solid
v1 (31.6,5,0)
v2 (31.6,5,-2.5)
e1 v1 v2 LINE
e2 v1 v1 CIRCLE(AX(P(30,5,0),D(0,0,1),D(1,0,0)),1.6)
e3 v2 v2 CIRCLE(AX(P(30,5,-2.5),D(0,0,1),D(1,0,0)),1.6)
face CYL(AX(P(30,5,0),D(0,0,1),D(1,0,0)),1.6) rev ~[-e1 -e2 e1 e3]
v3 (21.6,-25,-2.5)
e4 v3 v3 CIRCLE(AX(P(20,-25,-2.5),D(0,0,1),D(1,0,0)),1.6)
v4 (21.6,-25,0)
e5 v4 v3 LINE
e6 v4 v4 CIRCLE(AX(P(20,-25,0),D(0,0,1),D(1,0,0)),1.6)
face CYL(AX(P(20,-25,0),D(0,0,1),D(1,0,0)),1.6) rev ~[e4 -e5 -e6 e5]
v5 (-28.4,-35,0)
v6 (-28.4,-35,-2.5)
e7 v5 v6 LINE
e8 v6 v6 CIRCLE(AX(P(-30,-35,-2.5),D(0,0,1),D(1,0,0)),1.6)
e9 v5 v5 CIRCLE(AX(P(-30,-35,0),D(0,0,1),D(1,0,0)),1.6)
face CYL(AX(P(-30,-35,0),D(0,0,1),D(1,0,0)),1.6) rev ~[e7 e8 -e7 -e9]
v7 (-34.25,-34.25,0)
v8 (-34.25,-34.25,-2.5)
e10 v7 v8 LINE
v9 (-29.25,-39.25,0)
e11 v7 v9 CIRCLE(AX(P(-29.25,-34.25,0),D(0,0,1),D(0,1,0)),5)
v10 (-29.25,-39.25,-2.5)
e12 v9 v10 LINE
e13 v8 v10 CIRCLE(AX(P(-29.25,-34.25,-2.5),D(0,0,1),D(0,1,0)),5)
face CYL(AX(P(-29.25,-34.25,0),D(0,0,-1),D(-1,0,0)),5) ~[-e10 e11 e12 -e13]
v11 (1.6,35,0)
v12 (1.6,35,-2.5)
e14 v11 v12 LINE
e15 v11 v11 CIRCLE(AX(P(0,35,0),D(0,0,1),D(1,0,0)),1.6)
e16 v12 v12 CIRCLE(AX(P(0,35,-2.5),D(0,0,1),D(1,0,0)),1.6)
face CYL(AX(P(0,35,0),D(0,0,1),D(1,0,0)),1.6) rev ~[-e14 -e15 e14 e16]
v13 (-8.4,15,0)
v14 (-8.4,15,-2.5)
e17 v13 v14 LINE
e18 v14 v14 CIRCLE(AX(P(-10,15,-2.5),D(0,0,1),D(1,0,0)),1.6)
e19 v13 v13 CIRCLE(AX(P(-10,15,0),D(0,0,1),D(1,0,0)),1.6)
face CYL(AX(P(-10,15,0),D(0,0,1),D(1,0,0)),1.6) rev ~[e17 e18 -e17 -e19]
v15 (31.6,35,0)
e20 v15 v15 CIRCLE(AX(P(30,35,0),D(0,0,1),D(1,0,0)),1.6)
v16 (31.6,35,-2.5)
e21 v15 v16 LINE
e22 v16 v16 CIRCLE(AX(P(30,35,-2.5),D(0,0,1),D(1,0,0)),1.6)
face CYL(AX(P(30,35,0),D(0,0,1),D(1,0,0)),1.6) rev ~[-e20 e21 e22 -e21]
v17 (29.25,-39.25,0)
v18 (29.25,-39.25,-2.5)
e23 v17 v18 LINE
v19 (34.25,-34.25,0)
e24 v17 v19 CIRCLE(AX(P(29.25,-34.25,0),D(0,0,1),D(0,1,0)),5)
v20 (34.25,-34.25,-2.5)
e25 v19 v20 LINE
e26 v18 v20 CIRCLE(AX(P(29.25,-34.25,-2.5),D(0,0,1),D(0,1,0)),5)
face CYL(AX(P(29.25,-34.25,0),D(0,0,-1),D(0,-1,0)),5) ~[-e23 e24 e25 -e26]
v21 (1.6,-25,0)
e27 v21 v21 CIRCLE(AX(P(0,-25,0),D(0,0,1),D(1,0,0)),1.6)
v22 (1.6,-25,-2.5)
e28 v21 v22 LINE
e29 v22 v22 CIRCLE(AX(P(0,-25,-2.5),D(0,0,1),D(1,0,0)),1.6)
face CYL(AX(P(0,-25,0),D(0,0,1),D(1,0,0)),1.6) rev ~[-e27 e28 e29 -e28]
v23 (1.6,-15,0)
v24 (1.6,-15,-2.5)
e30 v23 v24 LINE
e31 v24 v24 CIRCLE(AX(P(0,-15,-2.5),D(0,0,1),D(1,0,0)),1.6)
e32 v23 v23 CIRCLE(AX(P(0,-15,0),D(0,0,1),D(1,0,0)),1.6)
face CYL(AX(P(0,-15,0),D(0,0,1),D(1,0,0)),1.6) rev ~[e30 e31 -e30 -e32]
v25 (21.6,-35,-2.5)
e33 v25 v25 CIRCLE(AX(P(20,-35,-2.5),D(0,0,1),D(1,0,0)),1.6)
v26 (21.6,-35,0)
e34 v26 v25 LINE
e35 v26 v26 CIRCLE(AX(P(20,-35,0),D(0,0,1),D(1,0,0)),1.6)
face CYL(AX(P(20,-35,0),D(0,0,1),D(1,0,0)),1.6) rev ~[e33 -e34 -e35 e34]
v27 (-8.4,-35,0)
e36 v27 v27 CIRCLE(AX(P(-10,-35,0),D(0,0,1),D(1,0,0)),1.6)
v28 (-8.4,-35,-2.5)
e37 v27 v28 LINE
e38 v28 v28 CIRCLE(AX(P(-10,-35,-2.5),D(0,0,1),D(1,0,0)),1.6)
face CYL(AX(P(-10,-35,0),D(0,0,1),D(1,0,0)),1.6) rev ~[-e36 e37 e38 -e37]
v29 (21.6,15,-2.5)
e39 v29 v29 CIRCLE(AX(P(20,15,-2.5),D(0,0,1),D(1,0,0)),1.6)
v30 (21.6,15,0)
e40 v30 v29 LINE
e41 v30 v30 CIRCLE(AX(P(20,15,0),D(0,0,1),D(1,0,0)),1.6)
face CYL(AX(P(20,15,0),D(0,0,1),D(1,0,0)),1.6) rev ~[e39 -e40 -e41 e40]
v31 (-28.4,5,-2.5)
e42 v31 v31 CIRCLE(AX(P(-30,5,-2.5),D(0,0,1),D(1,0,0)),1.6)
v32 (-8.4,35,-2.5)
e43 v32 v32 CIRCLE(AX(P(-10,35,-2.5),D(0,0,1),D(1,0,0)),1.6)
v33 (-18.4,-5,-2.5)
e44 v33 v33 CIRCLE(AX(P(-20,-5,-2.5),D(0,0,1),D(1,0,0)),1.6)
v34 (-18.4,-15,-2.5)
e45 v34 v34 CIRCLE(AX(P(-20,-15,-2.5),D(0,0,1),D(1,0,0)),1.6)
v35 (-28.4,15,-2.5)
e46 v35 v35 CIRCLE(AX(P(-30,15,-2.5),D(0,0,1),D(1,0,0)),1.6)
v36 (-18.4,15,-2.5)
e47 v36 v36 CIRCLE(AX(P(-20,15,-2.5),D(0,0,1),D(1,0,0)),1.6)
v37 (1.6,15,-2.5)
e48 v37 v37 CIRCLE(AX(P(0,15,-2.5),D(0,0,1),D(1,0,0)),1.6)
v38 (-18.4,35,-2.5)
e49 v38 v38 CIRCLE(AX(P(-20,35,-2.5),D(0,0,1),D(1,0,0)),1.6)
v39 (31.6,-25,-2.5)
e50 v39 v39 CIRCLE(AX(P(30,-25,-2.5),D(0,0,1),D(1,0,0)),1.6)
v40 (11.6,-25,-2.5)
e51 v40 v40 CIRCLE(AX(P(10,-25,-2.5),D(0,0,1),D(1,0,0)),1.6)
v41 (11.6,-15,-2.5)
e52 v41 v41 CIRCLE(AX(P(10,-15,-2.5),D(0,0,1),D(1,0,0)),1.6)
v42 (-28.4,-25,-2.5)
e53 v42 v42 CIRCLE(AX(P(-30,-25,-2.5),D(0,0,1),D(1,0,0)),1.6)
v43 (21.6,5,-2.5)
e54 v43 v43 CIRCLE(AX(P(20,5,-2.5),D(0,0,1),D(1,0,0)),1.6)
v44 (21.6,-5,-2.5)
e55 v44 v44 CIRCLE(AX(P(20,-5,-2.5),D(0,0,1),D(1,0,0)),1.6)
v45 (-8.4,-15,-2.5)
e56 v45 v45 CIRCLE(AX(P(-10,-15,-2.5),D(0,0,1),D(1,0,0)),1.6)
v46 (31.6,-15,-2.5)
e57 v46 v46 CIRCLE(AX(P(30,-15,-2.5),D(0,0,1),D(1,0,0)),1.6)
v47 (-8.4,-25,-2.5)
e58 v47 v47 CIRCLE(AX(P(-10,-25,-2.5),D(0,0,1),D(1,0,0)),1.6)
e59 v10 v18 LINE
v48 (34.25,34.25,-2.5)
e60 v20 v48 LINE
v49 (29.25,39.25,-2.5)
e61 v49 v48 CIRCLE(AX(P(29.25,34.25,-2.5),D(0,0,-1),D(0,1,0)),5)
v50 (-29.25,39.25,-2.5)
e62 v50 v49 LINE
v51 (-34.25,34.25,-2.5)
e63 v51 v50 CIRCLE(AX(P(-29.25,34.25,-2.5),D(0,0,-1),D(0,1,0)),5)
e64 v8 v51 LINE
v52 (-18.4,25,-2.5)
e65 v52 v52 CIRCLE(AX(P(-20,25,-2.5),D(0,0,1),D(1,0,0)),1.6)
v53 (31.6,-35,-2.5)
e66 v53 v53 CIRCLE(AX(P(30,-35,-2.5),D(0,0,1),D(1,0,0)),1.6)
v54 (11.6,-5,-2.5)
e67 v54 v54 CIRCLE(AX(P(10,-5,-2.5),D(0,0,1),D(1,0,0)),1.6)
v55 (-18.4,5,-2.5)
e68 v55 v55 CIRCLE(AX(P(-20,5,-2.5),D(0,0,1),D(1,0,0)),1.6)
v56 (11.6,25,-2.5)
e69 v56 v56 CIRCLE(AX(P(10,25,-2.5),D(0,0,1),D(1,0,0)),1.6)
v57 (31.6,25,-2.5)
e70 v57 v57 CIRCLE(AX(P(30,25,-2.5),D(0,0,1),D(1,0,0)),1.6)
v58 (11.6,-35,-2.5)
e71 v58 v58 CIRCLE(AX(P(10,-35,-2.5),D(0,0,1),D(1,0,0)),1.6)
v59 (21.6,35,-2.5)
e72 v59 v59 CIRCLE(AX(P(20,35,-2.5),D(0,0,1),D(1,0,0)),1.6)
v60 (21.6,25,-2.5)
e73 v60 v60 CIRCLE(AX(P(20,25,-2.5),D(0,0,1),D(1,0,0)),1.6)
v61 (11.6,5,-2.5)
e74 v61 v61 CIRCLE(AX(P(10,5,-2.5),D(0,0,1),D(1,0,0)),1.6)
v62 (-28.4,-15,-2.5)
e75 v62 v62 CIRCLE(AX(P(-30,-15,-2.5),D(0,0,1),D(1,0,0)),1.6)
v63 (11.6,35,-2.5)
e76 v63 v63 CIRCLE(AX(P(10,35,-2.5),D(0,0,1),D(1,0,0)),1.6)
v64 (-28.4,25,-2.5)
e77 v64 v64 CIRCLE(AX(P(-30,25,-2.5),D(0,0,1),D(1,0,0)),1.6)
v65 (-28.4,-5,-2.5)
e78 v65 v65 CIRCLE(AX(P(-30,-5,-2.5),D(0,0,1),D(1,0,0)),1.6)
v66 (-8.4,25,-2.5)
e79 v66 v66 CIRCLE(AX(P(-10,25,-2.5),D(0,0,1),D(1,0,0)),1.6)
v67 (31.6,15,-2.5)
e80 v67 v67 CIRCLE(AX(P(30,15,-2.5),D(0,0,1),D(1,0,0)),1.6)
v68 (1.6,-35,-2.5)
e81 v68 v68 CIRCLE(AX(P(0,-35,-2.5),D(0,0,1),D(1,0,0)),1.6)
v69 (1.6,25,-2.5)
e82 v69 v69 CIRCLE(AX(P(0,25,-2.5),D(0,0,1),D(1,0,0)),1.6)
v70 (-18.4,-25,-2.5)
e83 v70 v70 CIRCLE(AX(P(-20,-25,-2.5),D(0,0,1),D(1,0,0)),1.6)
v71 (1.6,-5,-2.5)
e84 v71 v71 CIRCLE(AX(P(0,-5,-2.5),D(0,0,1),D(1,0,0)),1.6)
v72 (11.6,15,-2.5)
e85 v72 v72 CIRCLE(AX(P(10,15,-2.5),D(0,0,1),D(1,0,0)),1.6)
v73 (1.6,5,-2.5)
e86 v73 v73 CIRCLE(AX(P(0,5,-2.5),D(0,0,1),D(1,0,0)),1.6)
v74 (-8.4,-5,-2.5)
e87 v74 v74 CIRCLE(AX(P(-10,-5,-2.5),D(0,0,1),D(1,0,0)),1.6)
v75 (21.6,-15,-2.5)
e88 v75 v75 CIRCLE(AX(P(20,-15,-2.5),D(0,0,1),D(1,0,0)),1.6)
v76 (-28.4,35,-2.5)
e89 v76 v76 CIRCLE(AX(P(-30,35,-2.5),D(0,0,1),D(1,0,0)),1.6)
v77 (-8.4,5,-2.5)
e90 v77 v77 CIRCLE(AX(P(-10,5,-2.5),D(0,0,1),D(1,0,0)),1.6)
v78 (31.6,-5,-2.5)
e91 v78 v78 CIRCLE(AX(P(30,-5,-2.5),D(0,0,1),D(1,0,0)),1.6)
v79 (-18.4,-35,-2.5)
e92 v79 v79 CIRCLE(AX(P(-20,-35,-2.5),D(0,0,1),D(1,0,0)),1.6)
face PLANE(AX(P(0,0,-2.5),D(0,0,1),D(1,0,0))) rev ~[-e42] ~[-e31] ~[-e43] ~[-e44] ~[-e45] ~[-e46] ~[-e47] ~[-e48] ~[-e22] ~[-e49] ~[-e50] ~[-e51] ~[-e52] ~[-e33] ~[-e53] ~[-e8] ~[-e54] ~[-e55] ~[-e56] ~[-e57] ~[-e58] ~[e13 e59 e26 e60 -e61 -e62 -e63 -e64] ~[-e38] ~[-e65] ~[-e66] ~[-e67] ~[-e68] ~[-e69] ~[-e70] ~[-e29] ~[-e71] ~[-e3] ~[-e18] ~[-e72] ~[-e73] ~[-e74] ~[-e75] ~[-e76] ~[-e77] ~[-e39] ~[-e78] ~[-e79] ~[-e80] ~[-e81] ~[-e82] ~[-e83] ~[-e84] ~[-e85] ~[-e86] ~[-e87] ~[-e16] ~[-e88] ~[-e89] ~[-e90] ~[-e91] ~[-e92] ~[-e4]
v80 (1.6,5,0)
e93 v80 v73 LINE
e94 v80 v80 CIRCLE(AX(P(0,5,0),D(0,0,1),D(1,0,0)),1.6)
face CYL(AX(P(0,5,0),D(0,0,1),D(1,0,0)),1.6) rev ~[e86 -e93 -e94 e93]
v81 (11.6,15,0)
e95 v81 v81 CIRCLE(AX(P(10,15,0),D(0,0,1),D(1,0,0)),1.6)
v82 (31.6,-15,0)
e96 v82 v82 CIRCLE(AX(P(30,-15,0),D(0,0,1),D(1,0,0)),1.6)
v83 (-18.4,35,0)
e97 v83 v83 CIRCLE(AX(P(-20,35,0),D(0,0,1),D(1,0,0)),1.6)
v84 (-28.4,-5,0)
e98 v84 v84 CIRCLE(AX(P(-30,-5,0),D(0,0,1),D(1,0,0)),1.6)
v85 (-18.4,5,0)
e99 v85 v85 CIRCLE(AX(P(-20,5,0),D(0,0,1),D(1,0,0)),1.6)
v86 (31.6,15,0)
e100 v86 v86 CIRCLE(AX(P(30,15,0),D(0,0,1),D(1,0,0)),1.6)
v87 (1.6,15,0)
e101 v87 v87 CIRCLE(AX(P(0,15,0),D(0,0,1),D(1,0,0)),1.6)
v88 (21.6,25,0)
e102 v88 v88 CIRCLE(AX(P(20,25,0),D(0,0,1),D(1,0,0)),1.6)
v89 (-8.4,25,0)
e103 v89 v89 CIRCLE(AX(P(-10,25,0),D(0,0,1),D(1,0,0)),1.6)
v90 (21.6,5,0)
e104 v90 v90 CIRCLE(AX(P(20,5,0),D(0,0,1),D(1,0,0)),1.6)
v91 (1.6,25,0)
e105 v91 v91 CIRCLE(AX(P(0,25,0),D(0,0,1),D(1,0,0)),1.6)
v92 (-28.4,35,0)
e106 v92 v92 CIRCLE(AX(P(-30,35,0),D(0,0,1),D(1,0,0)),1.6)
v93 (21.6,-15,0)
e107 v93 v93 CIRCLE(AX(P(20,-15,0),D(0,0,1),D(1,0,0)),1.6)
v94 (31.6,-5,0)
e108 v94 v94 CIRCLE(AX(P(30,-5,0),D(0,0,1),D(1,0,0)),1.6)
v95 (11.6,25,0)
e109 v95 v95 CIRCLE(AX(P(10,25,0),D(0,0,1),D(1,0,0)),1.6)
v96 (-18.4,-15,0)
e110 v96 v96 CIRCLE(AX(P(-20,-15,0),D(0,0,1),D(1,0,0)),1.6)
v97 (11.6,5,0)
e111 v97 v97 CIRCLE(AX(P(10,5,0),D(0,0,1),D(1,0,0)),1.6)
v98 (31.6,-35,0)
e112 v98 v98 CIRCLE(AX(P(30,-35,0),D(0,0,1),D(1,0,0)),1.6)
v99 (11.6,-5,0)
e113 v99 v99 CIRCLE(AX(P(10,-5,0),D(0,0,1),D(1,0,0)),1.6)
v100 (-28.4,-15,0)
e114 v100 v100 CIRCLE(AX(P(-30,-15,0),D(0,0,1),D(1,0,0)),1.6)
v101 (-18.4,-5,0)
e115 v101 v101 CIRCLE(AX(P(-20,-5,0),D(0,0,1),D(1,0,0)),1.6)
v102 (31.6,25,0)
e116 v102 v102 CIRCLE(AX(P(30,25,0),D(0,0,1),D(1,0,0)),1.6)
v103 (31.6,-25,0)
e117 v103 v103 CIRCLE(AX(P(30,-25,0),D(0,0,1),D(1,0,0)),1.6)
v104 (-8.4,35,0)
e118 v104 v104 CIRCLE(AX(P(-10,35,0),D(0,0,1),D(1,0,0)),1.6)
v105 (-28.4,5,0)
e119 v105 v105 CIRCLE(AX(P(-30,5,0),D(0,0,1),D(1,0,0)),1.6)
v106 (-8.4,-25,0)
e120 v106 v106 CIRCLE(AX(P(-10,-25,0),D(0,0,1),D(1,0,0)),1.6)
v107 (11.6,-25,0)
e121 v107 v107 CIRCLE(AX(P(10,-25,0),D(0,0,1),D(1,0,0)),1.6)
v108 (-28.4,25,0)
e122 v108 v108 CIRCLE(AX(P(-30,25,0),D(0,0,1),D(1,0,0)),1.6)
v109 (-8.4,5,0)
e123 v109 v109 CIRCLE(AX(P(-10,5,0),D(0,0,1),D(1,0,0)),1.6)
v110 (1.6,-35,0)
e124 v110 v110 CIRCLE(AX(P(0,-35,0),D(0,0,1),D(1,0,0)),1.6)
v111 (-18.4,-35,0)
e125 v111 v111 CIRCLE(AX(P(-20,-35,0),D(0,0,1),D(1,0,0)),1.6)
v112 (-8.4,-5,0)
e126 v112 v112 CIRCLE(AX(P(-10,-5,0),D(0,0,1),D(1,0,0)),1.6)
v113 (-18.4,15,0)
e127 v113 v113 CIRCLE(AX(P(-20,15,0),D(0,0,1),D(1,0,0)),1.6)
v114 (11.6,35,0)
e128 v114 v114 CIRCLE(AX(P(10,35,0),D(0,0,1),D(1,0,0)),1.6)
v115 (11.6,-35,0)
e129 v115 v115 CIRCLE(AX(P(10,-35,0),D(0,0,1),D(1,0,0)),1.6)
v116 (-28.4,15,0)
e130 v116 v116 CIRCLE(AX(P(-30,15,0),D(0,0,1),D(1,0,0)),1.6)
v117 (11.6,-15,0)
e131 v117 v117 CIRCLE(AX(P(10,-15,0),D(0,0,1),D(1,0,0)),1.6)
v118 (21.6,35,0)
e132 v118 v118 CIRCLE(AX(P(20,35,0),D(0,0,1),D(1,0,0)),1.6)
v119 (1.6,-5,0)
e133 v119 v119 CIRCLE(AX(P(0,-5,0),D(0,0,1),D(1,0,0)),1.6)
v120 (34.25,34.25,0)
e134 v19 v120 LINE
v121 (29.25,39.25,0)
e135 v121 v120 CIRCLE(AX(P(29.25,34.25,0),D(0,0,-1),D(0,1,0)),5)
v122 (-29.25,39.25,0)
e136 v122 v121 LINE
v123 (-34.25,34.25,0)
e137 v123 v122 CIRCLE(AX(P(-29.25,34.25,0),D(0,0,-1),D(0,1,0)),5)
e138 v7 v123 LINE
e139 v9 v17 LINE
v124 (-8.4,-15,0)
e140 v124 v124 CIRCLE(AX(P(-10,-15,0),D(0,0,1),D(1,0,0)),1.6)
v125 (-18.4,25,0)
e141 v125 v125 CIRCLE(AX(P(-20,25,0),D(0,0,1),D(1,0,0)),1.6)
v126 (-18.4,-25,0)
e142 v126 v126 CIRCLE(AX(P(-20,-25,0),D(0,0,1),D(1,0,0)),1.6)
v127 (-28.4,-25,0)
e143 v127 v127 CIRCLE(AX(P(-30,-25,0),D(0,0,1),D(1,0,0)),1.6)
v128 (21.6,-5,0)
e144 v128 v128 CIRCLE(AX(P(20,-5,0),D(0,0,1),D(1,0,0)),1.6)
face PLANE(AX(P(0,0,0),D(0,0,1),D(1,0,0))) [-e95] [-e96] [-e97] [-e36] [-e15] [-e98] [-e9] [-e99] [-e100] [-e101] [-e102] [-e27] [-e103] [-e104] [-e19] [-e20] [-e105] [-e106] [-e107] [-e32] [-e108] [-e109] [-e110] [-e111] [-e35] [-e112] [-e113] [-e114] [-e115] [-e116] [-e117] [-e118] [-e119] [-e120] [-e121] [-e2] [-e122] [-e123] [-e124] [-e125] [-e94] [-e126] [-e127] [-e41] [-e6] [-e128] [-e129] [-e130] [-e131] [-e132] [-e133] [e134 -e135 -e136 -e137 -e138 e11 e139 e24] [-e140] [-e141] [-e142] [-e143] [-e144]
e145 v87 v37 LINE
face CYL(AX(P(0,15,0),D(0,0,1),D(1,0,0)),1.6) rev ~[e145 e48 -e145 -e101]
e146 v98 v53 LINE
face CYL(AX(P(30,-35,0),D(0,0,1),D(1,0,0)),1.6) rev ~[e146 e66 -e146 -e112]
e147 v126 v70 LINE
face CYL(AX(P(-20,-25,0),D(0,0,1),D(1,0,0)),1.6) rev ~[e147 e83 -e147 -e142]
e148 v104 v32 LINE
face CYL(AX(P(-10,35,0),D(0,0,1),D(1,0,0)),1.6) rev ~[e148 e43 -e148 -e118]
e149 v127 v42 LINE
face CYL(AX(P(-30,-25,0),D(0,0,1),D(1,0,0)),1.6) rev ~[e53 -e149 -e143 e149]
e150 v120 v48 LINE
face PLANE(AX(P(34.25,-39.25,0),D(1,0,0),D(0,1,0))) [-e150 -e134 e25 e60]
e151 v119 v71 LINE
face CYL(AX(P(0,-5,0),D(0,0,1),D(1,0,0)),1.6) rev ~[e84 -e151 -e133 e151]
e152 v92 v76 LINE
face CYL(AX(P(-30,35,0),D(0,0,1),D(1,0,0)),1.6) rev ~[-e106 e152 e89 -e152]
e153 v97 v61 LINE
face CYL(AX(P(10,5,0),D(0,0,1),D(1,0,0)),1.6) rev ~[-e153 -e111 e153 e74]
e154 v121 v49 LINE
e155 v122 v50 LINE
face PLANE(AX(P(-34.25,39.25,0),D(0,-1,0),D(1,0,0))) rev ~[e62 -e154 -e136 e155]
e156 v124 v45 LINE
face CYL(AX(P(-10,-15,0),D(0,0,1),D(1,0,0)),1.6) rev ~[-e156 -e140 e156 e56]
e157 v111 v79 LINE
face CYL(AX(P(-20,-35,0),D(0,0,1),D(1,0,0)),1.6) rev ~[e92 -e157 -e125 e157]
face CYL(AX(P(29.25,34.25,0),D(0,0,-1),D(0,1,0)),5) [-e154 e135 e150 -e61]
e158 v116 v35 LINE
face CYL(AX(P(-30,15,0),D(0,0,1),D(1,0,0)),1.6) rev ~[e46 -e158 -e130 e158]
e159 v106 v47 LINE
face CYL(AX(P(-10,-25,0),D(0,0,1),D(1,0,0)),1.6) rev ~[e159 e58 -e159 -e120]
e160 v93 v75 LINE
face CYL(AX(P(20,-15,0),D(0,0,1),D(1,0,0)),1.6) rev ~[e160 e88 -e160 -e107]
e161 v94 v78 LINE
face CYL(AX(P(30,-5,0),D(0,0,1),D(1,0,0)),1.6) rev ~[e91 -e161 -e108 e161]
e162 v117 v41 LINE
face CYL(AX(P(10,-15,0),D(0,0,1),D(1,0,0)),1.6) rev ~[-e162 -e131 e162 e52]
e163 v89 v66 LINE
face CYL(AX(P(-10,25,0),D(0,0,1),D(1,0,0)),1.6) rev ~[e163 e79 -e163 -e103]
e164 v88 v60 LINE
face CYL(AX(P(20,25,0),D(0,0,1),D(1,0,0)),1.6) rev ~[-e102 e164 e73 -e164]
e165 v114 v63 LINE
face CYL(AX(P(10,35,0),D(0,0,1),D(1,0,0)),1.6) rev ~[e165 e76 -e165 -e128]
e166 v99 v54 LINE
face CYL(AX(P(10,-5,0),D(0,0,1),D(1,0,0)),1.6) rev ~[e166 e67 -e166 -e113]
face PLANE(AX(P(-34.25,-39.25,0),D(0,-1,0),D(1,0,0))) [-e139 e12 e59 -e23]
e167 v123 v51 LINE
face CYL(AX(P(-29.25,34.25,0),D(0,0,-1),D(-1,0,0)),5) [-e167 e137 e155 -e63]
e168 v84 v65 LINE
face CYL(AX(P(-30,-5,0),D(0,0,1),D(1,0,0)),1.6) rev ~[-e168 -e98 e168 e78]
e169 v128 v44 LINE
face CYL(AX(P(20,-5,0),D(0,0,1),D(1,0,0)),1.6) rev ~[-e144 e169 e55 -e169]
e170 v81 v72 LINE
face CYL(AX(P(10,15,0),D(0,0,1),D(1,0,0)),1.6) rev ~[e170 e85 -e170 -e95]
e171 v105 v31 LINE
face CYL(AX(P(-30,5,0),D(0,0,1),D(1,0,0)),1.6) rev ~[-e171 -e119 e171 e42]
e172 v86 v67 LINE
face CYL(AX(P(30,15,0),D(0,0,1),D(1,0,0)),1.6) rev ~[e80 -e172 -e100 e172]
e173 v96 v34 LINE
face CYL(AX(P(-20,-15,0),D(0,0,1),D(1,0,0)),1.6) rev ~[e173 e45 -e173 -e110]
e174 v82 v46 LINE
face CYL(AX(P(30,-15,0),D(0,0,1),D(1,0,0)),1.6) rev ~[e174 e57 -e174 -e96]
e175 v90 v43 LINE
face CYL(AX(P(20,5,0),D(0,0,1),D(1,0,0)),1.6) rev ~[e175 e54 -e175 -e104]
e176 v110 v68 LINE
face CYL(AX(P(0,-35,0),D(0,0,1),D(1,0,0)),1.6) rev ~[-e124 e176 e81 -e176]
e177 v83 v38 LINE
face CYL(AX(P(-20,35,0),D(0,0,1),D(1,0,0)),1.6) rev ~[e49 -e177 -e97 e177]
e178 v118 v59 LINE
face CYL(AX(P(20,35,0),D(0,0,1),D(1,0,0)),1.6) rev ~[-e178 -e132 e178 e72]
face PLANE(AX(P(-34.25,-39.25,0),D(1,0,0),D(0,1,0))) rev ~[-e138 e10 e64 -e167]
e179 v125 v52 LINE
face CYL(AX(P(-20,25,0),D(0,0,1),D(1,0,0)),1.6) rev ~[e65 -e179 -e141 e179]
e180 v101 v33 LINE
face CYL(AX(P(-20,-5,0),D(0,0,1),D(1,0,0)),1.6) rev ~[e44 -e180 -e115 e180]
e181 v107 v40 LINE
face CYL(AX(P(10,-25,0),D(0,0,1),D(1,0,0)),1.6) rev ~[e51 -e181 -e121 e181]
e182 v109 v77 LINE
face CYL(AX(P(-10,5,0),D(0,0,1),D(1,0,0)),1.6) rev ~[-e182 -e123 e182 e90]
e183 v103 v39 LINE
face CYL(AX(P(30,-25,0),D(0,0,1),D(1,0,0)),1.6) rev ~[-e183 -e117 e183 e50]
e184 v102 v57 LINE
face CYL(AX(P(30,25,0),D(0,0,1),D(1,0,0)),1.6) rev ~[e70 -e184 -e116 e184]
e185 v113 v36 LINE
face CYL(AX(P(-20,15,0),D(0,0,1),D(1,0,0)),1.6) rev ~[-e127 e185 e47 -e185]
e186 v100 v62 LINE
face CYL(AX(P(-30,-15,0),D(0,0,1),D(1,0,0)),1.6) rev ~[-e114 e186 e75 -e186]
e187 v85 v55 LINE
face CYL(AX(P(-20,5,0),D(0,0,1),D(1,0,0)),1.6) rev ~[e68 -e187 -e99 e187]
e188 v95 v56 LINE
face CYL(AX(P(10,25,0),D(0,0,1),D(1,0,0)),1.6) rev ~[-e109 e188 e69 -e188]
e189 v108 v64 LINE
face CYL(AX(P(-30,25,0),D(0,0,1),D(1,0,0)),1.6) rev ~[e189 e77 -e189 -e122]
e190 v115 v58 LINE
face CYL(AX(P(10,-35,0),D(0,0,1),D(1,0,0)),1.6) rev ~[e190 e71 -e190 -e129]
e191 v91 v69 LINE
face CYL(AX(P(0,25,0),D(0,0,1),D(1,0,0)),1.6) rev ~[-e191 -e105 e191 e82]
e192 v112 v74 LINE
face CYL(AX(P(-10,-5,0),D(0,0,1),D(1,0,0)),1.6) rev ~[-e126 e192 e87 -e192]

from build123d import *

# Parameters (mm, degrees)
F0_W     = 68.5
F0_H     = 78.5
F0_R     = 1.6
F1_DEPTH = 2.5
F2_R     = 5


with BuildPart() as f1:
    # F0 (on Top) → F1 (new body)
    with BuildSketch(Plane.XY):
        Rectangle(F0_W, F0_H)
        with Locations((-30, -35)):
            Circle(F0_R, mode=Mode.SUBTRACT)
        with Locations((-20, -35)):
            Circle(F0_R, mode=Mode.SUBTRACT)
        with Locations((-30, -25)):
            Circle(F0_R, mode=Mode.SUBTRACT)
        with Locations((-20, -25)):
            Circle(F0_R, mode=Mode.SUBTRACT)
        with Locations((-10, -35)):
            Circle(F0_R, mode=Mode.SUBTRACT)
        with Locations((-10, -25)):
            Circle(F0_R, mode=Mode.SUBTRACT)
        with Locations((-30, -15)):
            Circle(F0_R, mode=Mode.SUBTRACT)
        with Locations((-20, -15)):
            Circle(F0_R, mode=Mode.SUBTRACT)
        with Locations((-30, -5)):
            Circle(F0_R, mode=Mode.SUBTRACT)
        with Locations((-20, -5)):
            Circle(F0_R, mode=Mode.SUBTRACT)
        with Locations((-10, -15)):
            Circle(F0_R, mode=Mode.SUBTRACT)
        with Locations((-10, -5)):
            Circle(F0_R, mode=Mode.SUBTRACT)
        with Locations((0, -35)):
            Circle(F0_R, mode=Mode.SUBTRACT)
        with Locations((10, -35)):
            Circle(F0_R, mode=Mode.SUBTRACT)
        with Locations((0, -25)):
            Circle(F0_R, mode=Mode.SUBTRACT)
        with Locations((10, -25)):
            Circle(F0_R, mode=Mode.SUBTRACT)
        with Locations((20, -35)):
            Circle(F0_R, mode=Mode.SUBTRACT)
        with Locations((30, -35)):
            Circle(F0_R, mode=Mode.SUBTRACT)
        with Locations((20, -25)):
            Circle(F0_R, mode=Mode.SUBTRACT)
        with Locations((30, -25)):
            Circle(F0_R, mode=Mode.SUBTRACT)
        with Locations((0, -15)):
            Circle(F0_R, mode=Mode.SUBTRACT)
        with Locations((10, -15)):
            Circle(F0_R, mode=Mode.SUBTRACT)
        with Locations((0, -5)):
            Circle(F0_R, mode=Mode.SUBTRACT)
        with Locations((10, -5)):
            Circle(F0_R, mode=Mode.SUBTRACT)
        with Locations((20, -15)):
            Circle(F0_R, mode=Mode.SUBTRACT)
        with Locations((30, -15)):
            Circle(F0_R, mode=Mode.SUBTRACT)
        with Locations((20, -5)):
            Circle(F0_R, mode=Mode.SUBTRACT)
        with Locations((30, -5)):
            Circle(F0_R, mode=Mode.SUBTRACT)
        with Locations((-30, 5)):
            Circle(F0_R, mode=Mode.SUBTRACT)
        with Locations((-20, 5)):
            Circle(F0_R, mode=Mode.SUBTRACT)
        with Locations((-30, 15)):
            Circle(F0_R, mode=Mode.SUBTRACT)
        with Locations((-20, 15)):
            Circle(F0_R, mode=Mode.SUBTRACT)
        with Locations((-10, 5)):
            Circle(F0_R, mode=Mode.SUBTRACT)
        with Locations((-10, 15)):
            Circle(F0_R, mode=Mode.SUBTRACT)
        with Locations((-30, 25)):
            Circle(F0_R, mode=Mode.SUBTRACT)
        with Locations((-20, 25)):
            Circle(F0_R, mode=Mode.SUBTRACT)
        with Locations((-30, 35)):
            Circle(F0_R, mode=Mode.SUBTRACT)
        with Locations((-20, 35)):
            Circle(F0_R, mode=Mode.SUBTRACT)
        with Locations((-10, 25)):
            Circle(F0_R, mode=Mode.SUBTRACT)
        with Locations((-10, 35)):
            Circle(F0_R, mode=Mode.SUBTRACT)
        with Locations((0, 5)):
            Circle(F0_R, mode=Mode.SUBTRACT)
        with Locations((10, 5)):
            Circle(F0_R, mode=Mode.SUBTRACT)
        with Locations((0, 15)):
            Circle(F0_R, mode=Mode.SUBTRACT)
        with Locations((10, 15)):
            Circle(F0_R, mode=Mode.SUBTRACT)
        with Locations((20, 5)):
            Circle(F0_R, mode=Mode.SUBTRACT)
        with Locations((30, 5)):
            Circle(F0_R, mode=Mode.SUBTRACT)
        with Locations((20, 15)):
            Circle(F0_R, mode=Mode.SUBTRACT)
        with Locations((30, 15)):
            Circle(F0_R, mode=Mode.SUBTRACT)
        with Locations((0, 25)):
            Circle(F0_R, mode=Mode.SUBTRACT)
        with Locations((10, 25)):
            Circle(F0_R, mode=Mode.SUBTRACT)
        with Locations((0, 35)):
            Circle(F0_R, mode=Mode.SUBTRACT)
        with Locations((10, 35)):
            Circle(F0_R, mode=Mode.SUBTRACT)
        with Locations((20, 25)):
            Circle(F0_R, mode=Mode.SUBTRACT)
        with Locations((30, 25)):
            Circle(F0_R, mode=Mode.SUBTRACT)
        with Locations((20, 35)):
            Circle(F0_R, mode=Mode.SUBTRACT)
        with Locations((30, 35)):
            Circle(F0_R, mode=Mode.SUBTRACT)
    extrude(amount=-F1_DEPTH)

    # F2
    f2_edges = [f1.edges().sort_by_distance(p)[0] for p in [
        (34.25, 39.25, -1.25),
        (-34.25, -39.25, -1.25),
        (34.25, -39.25, -1.25),
        (-34.25, 39.25, -1.25),
    ]]
    fillet(f2_edges, radius=F2_R)


solid = f1.part
